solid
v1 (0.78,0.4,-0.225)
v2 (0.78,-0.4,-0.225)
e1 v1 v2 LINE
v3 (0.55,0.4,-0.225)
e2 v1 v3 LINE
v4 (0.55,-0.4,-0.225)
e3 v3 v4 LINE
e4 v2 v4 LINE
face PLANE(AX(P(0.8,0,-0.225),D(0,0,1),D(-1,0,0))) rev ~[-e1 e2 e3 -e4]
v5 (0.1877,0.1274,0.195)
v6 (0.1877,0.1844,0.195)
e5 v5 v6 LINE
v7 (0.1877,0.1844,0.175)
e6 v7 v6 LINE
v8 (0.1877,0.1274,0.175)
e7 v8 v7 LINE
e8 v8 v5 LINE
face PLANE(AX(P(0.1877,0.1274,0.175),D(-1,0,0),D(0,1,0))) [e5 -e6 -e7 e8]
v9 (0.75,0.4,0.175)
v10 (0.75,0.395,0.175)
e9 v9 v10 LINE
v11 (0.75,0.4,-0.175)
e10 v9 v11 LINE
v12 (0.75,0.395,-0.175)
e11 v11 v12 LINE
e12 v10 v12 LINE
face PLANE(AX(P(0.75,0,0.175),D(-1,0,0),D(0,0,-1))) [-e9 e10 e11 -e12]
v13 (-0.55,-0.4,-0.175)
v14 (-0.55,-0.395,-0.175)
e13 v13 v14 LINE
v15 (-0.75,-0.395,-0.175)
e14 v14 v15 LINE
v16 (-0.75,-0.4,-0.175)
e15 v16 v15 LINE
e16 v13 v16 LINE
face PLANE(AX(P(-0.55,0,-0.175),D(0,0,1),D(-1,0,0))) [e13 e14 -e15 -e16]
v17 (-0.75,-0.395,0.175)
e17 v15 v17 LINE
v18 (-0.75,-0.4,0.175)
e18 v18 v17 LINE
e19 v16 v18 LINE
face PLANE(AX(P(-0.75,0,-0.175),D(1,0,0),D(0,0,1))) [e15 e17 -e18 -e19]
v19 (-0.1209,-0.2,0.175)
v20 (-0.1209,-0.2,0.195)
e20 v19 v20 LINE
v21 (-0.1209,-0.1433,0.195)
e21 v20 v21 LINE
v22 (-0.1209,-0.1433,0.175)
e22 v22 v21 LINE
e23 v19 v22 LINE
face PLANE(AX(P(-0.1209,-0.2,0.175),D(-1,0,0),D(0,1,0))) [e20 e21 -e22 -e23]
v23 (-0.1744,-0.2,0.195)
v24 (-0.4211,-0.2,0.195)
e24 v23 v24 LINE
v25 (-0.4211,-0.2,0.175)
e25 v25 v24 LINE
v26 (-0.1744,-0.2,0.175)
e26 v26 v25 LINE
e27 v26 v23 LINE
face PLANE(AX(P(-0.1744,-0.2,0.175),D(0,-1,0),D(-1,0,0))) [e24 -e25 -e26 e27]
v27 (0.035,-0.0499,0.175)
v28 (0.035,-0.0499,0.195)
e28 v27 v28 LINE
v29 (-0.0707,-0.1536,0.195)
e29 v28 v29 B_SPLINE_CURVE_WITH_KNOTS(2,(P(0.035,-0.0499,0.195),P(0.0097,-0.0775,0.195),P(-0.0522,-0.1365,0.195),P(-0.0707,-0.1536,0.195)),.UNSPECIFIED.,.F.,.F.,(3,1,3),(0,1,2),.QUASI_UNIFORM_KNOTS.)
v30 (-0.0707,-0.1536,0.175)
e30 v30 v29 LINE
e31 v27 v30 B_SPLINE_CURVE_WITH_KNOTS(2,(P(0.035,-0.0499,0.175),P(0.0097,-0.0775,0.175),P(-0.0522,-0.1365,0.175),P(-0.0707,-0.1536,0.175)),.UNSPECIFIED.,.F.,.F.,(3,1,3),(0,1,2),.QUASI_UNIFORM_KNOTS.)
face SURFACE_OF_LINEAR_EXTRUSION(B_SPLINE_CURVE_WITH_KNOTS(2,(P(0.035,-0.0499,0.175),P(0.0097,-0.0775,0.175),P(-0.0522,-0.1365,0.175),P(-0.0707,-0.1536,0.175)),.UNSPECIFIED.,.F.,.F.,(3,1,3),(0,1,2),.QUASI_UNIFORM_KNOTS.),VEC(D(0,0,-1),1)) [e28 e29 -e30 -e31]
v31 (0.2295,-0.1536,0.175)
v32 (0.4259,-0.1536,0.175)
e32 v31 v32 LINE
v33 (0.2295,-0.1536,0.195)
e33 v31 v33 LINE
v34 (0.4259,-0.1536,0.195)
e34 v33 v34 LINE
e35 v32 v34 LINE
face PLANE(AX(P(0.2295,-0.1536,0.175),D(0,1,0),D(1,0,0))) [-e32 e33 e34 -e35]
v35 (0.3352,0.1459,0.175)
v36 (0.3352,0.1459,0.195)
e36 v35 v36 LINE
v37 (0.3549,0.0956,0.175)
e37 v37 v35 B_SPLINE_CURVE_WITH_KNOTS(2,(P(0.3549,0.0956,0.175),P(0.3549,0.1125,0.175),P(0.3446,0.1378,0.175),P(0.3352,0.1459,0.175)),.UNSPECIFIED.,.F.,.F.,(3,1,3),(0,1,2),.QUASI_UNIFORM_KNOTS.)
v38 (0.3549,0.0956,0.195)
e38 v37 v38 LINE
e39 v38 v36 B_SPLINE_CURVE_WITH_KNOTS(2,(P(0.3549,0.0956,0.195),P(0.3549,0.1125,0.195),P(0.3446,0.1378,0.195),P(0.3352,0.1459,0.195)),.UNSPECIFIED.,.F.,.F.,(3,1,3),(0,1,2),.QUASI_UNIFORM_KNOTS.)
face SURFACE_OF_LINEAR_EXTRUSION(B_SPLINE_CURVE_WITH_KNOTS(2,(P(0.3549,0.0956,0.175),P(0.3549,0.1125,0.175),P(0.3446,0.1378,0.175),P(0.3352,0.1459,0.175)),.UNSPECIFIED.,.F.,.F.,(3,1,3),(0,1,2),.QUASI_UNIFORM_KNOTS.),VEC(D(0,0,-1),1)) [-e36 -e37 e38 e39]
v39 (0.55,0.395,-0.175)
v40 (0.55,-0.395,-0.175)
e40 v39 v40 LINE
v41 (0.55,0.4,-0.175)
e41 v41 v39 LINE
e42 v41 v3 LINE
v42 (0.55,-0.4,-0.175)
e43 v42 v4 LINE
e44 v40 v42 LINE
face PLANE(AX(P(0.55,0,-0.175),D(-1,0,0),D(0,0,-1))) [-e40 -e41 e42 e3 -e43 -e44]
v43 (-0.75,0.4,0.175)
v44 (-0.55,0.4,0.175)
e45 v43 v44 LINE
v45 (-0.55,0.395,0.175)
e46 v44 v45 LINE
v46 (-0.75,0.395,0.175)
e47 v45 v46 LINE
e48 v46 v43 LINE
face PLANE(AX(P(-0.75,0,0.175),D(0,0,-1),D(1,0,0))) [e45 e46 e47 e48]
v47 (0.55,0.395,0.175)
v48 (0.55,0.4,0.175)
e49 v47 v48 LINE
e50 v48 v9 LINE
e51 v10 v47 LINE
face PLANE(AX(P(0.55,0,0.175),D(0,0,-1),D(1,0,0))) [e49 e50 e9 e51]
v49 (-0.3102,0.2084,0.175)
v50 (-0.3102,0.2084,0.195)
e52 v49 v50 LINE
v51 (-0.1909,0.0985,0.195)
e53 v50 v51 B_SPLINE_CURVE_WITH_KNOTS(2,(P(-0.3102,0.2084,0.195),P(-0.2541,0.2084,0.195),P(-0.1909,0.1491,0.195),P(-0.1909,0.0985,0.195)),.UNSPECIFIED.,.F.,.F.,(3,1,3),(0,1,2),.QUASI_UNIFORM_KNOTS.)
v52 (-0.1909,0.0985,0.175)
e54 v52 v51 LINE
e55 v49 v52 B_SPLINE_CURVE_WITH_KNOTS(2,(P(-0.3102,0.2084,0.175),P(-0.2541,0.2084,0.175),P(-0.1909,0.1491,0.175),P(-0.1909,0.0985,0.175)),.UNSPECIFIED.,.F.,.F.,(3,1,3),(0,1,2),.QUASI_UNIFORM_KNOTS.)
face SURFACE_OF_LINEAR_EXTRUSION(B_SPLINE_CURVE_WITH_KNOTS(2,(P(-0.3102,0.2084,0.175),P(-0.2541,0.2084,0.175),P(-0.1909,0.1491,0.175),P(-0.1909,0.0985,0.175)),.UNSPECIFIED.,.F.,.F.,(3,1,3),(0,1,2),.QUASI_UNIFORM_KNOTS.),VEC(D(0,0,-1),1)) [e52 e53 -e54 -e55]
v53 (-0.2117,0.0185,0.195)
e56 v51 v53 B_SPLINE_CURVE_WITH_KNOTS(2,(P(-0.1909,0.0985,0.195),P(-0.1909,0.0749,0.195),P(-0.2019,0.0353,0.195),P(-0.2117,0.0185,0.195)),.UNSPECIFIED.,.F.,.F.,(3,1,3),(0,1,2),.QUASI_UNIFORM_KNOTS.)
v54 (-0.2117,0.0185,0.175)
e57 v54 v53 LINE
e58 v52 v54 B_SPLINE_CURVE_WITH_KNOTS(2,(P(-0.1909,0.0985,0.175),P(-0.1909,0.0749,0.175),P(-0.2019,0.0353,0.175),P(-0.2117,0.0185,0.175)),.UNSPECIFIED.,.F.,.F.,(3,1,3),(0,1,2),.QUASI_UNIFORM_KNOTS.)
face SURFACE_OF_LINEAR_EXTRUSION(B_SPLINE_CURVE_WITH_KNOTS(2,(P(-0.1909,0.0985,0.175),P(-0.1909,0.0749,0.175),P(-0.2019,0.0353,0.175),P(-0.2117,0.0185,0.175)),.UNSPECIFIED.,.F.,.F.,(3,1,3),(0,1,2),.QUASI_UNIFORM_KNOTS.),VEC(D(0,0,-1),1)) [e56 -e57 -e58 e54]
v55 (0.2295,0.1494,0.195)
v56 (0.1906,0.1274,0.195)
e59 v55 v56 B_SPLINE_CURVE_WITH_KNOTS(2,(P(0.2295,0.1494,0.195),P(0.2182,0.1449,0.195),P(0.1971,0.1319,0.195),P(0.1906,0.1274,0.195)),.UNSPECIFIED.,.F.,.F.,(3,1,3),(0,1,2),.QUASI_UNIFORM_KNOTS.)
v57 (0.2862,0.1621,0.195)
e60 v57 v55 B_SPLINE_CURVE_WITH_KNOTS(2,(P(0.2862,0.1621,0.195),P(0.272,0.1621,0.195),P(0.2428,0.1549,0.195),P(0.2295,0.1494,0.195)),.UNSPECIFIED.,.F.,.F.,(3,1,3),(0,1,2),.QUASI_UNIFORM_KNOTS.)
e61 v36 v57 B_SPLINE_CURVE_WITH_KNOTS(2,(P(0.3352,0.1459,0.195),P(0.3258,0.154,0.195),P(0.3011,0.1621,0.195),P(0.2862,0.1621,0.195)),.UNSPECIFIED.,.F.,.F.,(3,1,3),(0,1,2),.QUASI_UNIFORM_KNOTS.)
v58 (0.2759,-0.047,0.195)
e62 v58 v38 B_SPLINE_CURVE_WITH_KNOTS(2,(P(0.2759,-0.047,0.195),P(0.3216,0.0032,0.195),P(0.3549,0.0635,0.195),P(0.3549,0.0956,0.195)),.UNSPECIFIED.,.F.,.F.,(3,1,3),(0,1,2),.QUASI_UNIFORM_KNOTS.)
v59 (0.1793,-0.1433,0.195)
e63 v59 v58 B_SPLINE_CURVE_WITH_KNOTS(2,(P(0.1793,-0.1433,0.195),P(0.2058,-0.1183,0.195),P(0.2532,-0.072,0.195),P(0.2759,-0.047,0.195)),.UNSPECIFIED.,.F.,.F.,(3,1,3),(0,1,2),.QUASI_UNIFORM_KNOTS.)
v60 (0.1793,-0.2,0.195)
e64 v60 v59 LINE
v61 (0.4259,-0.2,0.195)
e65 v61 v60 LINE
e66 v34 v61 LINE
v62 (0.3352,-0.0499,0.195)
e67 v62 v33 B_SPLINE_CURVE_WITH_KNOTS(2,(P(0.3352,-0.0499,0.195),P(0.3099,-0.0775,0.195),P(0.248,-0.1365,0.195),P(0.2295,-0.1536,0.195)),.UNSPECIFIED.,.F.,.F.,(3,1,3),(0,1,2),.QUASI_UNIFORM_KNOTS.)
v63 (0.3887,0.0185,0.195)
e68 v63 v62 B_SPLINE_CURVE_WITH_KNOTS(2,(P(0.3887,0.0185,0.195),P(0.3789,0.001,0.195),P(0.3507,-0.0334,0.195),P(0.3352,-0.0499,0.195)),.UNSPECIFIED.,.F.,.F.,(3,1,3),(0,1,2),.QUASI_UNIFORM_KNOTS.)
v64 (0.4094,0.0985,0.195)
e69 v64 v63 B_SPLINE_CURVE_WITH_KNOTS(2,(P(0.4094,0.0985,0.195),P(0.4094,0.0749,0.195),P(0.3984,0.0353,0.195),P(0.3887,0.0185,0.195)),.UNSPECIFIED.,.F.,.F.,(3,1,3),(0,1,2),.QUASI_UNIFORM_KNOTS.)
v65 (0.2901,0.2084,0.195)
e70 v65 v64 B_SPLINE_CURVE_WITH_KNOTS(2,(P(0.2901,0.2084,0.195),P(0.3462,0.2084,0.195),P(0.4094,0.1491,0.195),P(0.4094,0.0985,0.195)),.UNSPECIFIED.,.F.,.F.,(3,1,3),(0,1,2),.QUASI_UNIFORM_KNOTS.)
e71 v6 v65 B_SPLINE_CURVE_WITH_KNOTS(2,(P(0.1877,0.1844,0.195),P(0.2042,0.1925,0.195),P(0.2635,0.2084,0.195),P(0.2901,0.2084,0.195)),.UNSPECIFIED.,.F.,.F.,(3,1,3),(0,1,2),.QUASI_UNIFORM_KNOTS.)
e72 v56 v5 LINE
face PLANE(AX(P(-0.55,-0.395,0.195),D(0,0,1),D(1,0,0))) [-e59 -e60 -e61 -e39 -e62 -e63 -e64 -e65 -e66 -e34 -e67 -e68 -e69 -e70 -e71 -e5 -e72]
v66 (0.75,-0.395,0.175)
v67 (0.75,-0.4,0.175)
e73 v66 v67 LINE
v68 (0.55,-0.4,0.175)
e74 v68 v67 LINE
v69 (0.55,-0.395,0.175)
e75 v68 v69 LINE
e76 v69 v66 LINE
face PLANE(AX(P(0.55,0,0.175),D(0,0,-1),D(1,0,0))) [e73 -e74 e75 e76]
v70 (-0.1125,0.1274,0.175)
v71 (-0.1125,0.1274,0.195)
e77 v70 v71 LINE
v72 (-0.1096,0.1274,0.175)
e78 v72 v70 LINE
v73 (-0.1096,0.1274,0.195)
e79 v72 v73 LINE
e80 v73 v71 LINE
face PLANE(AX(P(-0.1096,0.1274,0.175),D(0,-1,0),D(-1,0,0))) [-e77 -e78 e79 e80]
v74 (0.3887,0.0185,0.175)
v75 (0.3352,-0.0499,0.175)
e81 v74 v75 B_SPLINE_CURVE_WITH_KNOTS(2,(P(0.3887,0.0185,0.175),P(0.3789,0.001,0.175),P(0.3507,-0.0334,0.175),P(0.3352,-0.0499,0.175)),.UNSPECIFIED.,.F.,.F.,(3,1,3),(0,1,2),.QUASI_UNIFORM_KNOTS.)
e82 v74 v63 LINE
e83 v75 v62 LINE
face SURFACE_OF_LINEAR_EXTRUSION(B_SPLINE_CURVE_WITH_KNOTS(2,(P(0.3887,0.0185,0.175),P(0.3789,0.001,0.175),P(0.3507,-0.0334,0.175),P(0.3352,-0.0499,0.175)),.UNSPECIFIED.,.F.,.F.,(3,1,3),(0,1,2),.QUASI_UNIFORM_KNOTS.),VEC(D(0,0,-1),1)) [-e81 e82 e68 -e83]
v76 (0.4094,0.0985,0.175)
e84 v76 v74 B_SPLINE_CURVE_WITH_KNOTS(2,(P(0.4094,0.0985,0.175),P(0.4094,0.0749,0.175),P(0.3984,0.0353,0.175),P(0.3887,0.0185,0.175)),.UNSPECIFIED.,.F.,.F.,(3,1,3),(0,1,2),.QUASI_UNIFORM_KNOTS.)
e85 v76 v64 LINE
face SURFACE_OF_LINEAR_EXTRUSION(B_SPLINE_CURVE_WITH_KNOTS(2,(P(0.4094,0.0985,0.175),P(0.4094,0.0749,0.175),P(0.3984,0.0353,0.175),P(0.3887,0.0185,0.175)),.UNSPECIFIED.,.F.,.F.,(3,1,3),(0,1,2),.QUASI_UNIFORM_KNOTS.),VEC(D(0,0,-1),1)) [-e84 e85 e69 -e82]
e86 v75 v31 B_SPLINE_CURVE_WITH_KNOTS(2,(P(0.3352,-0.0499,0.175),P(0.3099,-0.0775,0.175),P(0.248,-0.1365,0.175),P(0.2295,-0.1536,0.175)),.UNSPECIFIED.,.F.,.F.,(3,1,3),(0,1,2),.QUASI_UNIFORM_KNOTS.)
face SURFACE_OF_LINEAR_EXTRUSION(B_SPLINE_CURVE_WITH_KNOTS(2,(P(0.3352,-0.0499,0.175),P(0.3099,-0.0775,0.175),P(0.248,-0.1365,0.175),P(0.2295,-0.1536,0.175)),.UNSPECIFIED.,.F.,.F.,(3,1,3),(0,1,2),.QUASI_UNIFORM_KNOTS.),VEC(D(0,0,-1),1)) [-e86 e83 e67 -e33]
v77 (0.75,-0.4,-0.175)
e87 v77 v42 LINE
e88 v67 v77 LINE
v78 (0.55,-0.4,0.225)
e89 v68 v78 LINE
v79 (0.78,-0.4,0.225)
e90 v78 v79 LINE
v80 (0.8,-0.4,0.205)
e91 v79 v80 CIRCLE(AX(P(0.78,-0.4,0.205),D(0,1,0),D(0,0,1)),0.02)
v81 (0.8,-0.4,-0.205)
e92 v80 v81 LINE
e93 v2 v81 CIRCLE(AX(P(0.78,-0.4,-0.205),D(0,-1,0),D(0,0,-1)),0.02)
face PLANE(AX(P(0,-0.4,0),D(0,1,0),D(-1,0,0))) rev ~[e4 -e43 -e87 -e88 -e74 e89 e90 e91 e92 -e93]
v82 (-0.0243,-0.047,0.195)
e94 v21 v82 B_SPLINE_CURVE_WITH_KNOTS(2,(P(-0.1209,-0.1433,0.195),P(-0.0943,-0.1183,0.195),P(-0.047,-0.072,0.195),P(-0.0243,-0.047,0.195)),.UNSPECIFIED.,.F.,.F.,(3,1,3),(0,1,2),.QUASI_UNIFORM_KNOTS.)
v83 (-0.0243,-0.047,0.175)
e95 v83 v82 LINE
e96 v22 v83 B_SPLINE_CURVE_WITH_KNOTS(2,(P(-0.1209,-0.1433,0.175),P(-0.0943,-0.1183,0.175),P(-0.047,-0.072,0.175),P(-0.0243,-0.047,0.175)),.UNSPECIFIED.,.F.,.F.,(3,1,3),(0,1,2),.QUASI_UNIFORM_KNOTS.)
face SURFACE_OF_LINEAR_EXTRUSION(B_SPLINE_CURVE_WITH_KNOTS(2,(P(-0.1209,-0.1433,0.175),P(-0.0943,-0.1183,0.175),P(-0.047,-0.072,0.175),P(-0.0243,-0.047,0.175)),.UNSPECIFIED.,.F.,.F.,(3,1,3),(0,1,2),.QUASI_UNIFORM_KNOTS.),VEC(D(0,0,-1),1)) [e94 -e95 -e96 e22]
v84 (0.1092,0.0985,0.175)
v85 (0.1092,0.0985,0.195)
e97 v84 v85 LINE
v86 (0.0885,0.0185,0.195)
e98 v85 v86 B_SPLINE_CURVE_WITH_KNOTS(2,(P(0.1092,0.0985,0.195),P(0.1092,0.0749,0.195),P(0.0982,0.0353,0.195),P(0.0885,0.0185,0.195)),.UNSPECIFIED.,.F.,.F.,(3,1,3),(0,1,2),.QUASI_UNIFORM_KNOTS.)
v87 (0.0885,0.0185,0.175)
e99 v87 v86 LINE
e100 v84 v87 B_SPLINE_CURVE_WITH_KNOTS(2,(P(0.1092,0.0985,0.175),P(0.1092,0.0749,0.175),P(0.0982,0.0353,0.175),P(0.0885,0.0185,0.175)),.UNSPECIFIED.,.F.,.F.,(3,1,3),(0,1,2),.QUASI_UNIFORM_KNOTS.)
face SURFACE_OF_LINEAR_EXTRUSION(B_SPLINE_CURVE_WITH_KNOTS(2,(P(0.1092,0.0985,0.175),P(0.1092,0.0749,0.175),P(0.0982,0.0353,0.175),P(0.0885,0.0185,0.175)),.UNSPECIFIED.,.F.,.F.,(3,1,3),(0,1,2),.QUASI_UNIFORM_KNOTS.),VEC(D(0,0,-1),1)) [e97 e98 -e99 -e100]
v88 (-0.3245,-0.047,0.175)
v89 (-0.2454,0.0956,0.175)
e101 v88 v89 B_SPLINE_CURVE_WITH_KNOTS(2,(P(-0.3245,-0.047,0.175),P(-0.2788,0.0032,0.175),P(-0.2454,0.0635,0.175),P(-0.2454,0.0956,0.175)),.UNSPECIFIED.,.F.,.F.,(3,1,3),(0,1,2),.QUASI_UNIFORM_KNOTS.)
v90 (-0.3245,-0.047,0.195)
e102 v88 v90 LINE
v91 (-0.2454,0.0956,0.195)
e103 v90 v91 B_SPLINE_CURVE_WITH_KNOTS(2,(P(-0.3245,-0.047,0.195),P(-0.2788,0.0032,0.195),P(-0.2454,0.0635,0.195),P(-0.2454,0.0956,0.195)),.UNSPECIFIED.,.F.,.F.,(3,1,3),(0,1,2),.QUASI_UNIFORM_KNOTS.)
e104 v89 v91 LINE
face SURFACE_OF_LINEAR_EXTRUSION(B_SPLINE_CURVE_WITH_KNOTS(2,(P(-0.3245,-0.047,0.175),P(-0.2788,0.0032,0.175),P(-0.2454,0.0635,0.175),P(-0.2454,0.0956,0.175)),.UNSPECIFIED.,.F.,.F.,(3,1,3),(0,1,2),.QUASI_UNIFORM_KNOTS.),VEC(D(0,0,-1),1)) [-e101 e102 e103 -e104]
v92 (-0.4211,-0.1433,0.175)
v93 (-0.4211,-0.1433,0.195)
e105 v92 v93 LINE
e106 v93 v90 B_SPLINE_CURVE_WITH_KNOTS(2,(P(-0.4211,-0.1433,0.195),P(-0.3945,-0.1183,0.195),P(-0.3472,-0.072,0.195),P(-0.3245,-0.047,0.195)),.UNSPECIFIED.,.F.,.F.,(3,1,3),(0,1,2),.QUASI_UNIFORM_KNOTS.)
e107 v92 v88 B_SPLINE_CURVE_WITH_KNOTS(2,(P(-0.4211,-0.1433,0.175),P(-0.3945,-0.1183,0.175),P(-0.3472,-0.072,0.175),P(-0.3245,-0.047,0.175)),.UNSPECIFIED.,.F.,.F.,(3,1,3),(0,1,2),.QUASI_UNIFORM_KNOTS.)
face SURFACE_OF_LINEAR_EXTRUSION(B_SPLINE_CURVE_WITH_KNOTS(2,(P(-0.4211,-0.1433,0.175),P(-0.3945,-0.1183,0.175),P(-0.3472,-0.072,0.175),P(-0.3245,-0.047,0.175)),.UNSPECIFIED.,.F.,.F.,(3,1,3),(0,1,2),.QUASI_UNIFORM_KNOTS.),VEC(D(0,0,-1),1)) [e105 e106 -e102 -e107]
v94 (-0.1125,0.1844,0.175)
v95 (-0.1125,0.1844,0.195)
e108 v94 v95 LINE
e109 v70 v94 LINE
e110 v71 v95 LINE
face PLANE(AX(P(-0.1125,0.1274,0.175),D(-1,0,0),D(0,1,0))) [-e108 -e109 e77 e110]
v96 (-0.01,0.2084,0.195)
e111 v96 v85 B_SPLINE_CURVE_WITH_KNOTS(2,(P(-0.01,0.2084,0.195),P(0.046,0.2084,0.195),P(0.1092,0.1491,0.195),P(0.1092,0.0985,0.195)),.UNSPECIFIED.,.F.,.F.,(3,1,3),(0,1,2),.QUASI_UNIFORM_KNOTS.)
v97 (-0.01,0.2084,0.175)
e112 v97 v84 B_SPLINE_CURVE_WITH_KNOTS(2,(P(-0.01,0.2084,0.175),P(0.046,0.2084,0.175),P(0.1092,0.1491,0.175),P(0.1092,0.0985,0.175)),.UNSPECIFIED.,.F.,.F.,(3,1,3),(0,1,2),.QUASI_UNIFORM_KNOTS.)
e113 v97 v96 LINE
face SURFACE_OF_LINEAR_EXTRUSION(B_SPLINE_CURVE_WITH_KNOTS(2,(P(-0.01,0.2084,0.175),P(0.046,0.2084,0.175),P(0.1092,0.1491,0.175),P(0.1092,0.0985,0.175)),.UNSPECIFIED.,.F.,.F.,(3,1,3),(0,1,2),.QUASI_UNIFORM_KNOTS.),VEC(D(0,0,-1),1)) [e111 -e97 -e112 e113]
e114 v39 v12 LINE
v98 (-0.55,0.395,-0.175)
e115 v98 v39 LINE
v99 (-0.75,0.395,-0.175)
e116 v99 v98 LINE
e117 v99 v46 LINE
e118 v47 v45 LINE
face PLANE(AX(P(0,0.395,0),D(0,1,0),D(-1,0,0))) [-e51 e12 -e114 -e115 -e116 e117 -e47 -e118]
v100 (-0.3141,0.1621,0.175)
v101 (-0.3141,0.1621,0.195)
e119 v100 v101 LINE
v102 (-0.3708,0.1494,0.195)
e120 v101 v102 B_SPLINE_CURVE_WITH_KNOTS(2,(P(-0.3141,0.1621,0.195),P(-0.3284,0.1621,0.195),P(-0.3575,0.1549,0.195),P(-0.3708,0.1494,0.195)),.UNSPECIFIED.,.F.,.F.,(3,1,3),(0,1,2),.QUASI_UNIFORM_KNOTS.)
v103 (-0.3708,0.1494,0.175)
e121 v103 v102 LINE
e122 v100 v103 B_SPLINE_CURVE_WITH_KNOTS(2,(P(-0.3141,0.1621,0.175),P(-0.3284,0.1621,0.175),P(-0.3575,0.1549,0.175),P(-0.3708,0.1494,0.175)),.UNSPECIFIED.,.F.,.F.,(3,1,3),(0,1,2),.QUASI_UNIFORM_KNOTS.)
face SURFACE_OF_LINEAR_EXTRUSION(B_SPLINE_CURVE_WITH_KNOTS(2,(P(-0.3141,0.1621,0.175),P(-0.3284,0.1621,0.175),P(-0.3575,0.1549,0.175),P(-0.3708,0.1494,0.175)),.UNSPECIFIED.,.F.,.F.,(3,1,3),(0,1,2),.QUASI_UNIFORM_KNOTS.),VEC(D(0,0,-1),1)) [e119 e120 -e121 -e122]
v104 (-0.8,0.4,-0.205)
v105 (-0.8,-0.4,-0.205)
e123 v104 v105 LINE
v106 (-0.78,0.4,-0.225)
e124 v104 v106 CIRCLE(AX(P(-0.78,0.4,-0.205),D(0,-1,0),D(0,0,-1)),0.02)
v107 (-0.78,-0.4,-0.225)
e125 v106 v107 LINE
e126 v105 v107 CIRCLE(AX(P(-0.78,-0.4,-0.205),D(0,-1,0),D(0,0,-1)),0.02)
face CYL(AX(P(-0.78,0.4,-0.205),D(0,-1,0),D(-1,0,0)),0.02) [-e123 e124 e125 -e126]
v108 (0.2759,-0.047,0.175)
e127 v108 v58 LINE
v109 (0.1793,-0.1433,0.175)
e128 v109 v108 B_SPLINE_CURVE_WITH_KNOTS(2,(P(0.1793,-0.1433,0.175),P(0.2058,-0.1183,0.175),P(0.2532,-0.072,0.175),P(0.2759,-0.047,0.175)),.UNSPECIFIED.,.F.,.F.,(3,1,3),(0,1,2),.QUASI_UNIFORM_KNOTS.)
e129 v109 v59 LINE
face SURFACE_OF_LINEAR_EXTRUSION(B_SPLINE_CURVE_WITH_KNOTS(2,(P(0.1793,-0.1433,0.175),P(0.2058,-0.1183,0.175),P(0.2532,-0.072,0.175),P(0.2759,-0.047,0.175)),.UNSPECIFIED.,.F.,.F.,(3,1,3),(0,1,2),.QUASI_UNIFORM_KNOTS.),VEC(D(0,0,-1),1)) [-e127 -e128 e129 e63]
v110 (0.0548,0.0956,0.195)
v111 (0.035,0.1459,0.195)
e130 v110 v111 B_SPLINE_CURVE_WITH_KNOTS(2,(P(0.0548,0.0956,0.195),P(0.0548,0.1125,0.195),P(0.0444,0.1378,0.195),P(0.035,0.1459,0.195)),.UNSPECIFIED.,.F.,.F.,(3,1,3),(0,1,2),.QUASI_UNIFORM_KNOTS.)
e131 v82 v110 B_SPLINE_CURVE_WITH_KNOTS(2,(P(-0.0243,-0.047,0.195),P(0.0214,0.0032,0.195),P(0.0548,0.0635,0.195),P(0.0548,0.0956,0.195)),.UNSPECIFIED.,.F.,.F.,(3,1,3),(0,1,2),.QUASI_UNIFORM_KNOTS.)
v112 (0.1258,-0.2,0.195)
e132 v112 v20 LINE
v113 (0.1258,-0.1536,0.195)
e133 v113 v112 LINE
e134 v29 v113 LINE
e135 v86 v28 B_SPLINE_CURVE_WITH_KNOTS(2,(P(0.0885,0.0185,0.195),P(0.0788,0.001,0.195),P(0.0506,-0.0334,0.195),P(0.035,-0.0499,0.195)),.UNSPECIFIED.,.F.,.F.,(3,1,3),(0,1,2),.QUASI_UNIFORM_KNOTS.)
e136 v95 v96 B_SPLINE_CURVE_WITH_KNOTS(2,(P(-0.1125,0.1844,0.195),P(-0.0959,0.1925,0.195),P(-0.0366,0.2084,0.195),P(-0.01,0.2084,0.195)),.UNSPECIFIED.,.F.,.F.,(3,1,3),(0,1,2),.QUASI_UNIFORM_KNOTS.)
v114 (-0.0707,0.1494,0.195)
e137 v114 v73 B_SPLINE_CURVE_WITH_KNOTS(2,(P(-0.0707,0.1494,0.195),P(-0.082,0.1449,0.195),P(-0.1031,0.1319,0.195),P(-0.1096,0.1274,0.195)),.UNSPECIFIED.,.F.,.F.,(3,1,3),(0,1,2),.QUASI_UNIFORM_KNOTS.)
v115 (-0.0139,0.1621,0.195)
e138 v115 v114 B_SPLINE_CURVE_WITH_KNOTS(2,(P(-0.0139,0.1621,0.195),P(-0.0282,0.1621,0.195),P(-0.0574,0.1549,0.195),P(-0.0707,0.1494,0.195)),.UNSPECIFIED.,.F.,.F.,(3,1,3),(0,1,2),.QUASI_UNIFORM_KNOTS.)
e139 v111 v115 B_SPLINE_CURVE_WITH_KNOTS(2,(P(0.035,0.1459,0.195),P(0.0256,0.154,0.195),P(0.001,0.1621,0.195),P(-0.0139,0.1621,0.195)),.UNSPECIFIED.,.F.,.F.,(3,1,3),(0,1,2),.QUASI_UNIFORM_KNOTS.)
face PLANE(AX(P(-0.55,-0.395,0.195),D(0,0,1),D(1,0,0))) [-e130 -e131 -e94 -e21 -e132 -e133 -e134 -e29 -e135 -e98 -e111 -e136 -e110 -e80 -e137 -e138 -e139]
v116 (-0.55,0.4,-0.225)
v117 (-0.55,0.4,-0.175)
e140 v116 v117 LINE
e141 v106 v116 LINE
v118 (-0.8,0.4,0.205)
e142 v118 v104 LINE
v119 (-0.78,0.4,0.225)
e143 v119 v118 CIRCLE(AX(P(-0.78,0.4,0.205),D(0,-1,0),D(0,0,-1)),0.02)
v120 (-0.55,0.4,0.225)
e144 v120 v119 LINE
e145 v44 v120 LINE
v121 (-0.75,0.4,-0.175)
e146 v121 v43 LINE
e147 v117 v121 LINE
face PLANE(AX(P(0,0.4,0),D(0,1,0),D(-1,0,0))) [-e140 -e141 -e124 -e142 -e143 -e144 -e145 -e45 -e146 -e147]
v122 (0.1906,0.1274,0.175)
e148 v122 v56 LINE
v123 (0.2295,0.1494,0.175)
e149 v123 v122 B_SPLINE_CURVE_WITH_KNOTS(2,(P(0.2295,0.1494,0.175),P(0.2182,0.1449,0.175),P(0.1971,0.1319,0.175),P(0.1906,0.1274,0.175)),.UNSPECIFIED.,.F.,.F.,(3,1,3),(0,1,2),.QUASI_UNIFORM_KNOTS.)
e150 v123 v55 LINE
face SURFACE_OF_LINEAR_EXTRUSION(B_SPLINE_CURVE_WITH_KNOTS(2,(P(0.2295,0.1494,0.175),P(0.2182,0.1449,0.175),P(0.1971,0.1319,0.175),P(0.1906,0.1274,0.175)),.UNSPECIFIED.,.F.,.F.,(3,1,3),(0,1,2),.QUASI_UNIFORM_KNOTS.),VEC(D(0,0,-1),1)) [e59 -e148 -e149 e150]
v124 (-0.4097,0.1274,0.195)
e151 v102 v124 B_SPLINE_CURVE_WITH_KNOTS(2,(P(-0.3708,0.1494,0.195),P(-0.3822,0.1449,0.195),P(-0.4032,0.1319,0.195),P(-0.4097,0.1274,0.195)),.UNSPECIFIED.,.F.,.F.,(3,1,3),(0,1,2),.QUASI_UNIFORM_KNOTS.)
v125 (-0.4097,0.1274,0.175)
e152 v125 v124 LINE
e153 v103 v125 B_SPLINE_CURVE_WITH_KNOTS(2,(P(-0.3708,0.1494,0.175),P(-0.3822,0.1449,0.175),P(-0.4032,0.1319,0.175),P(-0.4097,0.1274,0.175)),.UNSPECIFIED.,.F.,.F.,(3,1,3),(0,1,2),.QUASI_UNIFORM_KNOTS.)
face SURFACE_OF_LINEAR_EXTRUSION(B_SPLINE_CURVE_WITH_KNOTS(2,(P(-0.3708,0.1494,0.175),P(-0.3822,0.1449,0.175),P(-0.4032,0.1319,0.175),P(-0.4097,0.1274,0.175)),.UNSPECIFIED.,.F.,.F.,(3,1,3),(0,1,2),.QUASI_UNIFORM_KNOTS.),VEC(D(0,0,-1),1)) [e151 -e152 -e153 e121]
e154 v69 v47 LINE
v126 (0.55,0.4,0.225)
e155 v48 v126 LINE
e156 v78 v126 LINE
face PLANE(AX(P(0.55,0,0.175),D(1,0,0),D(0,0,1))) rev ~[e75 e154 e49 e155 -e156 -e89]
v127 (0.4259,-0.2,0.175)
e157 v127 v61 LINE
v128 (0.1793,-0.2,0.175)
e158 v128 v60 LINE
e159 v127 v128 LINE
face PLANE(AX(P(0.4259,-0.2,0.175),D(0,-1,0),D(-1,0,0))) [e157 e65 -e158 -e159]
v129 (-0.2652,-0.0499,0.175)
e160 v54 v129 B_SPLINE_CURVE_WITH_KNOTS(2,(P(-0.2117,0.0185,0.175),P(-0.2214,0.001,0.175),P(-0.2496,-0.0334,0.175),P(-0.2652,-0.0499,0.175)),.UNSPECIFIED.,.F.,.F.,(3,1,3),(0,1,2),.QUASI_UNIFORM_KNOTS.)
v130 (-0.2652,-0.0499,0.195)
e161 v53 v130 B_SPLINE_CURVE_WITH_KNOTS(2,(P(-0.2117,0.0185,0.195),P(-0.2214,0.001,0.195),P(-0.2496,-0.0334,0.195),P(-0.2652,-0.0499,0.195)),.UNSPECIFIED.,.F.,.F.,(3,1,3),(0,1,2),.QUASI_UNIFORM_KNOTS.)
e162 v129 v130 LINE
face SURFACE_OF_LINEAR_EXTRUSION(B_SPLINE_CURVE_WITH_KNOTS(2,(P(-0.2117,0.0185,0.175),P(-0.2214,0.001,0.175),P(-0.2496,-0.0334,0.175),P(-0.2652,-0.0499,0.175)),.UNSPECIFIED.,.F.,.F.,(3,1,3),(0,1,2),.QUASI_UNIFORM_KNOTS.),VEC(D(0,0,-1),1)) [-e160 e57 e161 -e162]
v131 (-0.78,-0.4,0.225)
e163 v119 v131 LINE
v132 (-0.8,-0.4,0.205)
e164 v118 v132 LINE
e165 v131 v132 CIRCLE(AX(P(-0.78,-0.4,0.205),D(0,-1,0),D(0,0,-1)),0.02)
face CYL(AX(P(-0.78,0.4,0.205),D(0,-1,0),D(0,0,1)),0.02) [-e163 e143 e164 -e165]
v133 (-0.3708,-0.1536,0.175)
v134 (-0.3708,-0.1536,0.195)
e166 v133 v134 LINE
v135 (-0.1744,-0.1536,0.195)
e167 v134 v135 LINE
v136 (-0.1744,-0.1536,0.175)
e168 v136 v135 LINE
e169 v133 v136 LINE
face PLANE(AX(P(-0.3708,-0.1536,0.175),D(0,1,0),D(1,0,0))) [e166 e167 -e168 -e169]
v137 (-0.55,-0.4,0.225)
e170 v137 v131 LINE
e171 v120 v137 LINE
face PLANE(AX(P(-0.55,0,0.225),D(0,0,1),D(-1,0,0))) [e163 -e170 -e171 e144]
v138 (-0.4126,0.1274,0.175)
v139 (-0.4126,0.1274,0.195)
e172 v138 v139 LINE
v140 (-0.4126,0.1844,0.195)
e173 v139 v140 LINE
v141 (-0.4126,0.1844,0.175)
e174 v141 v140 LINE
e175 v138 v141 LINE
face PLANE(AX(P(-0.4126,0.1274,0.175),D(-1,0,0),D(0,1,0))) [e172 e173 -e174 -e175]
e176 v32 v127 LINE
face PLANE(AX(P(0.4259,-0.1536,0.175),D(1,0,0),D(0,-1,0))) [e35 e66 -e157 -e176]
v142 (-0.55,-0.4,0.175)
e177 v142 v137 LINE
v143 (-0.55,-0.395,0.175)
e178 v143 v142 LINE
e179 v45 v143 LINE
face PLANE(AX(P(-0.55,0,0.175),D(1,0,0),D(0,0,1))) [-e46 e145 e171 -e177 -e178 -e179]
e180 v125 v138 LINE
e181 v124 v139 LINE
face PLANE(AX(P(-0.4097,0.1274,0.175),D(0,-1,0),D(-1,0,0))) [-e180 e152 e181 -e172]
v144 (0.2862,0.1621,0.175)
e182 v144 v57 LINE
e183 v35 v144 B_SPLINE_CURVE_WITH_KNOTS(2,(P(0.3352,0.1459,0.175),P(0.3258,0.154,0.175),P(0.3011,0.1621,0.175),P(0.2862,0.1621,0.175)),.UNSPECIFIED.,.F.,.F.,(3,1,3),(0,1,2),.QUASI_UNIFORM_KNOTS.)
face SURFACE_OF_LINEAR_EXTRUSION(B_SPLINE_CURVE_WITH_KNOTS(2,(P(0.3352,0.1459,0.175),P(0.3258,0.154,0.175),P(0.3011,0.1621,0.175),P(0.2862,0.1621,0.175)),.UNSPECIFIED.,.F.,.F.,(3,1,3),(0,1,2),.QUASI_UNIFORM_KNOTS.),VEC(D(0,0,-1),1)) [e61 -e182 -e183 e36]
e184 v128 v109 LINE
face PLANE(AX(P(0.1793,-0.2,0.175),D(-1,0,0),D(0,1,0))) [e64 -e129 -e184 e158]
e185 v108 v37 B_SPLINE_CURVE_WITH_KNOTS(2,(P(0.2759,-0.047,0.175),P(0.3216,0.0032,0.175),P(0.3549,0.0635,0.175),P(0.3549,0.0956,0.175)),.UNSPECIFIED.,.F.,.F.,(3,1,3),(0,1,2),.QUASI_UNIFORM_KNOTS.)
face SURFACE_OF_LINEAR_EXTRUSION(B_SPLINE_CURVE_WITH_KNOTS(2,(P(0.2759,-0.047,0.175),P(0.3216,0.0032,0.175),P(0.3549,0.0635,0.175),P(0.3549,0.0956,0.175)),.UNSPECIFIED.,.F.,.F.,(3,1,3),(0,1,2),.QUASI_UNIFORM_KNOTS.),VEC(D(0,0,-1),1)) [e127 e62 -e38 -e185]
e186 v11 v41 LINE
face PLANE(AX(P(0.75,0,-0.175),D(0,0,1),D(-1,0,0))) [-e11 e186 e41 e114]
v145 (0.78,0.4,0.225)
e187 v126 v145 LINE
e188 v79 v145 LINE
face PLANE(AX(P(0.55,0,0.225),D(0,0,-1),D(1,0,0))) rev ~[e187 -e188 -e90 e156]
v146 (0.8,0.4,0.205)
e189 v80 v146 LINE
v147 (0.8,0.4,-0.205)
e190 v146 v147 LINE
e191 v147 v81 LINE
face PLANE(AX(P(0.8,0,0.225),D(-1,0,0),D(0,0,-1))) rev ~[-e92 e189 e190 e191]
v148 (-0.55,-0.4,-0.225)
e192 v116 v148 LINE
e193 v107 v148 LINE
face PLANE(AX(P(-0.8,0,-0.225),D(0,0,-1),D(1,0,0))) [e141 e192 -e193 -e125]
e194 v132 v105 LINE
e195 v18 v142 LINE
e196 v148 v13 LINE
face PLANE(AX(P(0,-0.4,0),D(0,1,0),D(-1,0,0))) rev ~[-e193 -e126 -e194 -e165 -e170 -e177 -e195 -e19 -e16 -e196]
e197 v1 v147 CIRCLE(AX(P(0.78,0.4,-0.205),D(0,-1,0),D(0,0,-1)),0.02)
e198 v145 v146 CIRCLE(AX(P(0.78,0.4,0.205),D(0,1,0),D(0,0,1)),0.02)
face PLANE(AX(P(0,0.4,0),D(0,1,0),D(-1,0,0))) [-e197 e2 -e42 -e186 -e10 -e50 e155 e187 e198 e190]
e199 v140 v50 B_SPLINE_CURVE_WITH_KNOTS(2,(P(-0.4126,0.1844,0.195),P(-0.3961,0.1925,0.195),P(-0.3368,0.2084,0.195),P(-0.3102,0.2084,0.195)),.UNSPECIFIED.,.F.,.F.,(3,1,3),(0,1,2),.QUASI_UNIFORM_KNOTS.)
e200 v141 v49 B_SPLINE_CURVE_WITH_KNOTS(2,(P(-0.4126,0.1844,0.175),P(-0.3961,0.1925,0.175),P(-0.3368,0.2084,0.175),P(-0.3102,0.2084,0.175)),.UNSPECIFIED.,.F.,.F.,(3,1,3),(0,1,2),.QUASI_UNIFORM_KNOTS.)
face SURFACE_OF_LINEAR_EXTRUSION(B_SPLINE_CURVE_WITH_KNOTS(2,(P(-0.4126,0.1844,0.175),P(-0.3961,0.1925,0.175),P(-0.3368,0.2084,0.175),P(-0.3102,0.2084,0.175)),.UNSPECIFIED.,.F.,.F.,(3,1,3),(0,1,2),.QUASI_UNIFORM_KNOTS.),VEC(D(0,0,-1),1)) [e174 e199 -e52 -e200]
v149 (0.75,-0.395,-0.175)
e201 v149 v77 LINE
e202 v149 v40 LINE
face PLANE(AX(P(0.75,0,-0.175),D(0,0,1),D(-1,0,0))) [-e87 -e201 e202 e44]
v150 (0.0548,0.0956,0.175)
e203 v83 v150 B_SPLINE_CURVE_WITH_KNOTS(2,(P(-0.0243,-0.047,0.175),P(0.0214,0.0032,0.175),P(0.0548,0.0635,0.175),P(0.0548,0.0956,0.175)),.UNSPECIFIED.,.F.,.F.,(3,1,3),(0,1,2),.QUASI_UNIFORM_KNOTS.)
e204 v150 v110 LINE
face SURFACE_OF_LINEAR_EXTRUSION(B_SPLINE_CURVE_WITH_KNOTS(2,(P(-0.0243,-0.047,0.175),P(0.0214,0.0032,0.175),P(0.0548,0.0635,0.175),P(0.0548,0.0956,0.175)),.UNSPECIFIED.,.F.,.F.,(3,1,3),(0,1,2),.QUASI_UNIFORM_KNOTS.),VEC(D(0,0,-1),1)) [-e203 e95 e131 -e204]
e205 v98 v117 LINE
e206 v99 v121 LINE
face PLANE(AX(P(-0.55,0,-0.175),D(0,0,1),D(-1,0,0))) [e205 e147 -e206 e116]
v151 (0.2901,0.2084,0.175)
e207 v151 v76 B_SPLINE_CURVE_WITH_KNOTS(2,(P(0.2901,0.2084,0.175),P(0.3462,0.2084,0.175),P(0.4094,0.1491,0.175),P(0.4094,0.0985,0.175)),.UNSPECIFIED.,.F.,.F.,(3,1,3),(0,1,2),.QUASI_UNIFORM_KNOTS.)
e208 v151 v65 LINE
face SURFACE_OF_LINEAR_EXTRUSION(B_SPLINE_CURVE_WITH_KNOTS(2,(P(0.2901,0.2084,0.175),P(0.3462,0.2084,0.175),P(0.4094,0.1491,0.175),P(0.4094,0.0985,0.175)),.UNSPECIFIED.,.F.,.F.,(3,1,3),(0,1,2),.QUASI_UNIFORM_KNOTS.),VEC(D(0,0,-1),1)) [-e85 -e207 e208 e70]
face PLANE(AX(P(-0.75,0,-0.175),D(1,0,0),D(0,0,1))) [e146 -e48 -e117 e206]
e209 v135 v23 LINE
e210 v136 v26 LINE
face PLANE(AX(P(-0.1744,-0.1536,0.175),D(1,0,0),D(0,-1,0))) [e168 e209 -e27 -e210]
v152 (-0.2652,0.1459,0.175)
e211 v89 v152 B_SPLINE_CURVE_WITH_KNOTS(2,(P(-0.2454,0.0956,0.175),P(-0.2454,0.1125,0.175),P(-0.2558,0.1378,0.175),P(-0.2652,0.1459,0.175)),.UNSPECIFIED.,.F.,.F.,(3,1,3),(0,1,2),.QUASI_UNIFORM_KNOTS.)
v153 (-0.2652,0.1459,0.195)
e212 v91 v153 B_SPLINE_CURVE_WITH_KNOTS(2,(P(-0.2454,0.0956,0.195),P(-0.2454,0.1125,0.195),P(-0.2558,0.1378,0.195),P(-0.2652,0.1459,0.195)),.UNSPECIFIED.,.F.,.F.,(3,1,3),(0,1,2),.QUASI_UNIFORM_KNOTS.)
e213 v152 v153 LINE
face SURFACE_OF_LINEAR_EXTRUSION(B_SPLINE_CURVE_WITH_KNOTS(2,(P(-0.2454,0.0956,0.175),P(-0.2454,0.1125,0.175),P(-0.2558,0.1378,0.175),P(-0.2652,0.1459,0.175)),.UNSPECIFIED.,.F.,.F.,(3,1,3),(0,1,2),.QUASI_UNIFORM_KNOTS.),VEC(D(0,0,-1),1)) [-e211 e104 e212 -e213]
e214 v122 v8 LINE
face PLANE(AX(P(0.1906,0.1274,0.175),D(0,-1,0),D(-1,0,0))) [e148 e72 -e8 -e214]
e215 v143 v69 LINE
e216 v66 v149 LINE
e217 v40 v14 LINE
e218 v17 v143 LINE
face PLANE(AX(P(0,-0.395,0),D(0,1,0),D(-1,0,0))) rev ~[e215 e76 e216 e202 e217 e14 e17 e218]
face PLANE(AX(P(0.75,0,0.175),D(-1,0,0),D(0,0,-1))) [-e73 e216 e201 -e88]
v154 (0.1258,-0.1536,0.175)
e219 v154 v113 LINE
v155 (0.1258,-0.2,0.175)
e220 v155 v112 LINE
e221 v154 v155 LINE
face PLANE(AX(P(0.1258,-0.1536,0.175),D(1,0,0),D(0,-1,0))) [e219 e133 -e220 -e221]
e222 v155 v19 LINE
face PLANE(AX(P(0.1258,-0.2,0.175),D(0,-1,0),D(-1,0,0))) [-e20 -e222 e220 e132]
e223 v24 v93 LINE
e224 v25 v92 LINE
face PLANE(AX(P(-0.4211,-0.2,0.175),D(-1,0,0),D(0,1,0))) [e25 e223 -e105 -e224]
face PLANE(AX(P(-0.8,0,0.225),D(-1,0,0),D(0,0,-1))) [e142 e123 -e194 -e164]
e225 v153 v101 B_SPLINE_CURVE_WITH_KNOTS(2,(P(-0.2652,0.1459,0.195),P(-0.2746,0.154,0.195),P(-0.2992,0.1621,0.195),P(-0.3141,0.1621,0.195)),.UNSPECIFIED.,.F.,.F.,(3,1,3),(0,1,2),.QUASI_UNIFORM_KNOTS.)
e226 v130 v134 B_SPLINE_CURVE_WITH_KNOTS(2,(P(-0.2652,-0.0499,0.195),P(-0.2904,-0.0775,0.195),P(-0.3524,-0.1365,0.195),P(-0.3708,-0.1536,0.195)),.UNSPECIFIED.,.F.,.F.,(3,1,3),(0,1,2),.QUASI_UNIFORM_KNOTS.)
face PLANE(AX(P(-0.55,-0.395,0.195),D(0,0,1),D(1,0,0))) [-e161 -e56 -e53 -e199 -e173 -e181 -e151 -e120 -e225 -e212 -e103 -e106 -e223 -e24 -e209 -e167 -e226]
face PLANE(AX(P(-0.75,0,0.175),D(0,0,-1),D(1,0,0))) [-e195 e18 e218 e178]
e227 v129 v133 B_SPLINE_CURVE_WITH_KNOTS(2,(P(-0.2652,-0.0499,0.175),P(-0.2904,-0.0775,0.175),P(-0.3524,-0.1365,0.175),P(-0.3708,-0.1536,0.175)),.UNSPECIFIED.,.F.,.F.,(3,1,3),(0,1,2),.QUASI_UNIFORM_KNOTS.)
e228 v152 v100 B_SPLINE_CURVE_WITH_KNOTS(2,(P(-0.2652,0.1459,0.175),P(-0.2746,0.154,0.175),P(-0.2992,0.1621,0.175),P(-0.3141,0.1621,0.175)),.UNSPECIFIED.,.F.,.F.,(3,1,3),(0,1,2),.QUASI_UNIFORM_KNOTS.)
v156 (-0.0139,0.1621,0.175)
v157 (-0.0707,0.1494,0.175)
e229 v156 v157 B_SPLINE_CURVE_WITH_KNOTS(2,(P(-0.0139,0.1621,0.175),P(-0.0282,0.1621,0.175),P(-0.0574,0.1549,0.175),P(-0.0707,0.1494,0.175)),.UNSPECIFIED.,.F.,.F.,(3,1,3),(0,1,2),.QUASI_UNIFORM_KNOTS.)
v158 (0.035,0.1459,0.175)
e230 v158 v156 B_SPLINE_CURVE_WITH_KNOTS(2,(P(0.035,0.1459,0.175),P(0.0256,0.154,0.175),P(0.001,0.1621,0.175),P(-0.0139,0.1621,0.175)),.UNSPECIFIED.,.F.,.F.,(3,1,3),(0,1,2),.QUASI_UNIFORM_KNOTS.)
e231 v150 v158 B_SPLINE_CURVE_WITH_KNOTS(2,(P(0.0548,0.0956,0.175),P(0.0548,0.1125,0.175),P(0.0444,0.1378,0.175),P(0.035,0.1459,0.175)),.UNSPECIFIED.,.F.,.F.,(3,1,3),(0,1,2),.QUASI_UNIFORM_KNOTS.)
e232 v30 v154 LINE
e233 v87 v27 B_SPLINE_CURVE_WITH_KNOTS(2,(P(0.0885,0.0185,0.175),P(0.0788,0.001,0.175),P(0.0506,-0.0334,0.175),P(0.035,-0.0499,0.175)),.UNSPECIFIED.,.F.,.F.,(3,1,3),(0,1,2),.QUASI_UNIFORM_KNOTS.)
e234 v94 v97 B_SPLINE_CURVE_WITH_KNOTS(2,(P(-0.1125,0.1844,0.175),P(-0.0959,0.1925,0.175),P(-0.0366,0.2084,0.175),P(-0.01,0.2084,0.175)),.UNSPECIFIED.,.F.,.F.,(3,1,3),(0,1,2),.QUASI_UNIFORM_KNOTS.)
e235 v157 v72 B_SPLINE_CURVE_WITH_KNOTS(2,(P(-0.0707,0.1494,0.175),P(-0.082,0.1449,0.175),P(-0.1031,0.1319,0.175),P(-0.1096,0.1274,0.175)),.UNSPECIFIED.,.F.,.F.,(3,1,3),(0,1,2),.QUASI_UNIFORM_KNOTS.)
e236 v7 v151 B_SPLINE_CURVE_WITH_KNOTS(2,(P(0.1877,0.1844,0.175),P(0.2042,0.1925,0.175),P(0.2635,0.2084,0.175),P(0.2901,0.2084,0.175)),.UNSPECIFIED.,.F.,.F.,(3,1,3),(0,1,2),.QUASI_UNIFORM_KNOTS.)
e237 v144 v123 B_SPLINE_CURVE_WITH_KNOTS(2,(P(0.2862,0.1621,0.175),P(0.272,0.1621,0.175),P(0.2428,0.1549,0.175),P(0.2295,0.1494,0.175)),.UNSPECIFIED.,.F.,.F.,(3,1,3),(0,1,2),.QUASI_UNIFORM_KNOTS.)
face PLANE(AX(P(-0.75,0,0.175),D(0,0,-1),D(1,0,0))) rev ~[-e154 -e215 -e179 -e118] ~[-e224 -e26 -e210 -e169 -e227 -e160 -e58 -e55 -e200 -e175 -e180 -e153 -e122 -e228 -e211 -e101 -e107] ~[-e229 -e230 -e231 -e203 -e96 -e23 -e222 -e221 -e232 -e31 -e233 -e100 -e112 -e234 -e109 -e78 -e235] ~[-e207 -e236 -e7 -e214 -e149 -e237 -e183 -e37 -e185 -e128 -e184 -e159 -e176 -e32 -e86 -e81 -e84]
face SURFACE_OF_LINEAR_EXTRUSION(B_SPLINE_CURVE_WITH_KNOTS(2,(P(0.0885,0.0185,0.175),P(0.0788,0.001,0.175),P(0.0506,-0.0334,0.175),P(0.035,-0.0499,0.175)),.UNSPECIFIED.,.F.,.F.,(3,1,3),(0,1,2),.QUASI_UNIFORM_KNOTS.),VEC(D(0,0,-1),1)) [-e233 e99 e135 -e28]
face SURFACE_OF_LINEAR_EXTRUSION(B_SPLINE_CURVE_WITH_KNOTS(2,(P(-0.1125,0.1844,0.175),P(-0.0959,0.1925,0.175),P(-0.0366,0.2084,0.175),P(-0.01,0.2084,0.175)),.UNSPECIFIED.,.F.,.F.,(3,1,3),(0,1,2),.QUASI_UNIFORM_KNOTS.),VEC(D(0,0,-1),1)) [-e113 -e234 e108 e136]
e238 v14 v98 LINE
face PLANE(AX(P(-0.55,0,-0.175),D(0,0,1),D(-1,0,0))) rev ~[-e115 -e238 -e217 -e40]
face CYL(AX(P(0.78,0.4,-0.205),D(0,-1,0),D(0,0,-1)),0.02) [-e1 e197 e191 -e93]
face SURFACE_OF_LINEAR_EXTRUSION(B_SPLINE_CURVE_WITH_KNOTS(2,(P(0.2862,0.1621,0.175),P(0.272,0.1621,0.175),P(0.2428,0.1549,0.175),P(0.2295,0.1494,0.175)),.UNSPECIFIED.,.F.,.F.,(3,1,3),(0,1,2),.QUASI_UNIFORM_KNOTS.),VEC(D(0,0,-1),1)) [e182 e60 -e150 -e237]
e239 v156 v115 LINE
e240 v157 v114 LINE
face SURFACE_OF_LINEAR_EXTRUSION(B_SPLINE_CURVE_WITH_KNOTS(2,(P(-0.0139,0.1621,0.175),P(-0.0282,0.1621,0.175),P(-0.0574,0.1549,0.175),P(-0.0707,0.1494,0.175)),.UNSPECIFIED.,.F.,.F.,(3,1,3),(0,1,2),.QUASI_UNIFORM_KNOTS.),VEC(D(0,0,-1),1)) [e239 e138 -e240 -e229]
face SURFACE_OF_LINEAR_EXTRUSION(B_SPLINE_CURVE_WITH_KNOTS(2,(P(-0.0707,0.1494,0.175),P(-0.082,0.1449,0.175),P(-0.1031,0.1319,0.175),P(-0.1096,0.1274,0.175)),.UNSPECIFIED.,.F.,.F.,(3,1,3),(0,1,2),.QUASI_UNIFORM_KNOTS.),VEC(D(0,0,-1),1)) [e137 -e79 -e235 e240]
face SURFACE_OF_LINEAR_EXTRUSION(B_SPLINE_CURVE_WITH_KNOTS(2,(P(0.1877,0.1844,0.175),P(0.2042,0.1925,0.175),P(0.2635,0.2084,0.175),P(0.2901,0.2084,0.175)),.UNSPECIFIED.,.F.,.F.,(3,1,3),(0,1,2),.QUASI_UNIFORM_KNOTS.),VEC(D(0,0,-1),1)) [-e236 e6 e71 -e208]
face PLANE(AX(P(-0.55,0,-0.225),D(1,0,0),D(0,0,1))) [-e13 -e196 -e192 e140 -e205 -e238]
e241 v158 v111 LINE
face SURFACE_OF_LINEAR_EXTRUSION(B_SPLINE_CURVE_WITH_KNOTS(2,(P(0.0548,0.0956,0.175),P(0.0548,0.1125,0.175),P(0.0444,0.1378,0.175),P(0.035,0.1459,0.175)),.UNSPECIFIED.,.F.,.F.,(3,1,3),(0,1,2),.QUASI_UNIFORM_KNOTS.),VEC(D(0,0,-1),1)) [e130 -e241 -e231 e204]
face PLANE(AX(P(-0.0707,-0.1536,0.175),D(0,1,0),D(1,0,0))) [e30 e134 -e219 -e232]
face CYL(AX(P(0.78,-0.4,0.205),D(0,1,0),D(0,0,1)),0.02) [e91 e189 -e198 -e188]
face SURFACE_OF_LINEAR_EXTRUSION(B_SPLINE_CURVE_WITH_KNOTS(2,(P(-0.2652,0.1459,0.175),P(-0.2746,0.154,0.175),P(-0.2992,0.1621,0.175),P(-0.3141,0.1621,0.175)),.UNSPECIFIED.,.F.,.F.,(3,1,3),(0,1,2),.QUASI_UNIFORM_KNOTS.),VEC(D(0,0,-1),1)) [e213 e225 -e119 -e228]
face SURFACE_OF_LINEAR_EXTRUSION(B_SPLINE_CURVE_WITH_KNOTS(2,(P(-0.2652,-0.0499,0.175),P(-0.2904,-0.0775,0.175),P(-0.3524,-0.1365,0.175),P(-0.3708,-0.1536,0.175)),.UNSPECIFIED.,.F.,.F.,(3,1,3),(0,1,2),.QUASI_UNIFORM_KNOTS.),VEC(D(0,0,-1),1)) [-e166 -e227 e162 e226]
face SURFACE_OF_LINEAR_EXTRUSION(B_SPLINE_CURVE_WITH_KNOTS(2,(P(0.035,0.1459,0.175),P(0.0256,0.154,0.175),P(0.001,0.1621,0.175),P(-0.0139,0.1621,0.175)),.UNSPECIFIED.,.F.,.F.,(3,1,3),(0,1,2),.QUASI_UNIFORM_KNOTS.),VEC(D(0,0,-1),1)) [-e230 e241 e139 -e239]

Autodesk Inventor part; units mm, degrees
ref_plane "YZ Plane" through (0, 0, 0) normal (1, 0, 0) x (0, 1, 0)
ref_plane "XZ Plane" through (0, 0, 0) normal (0, 1, 0) x (-1, 0, 0)
ref_plane "XY Plane" through (0, 0, 0) normal (0, 0, 1) x (1, 0, 0)
sketch "Sketch1" plane through (0, 0, 0) normal (0, 1, 0) x (-1, 0, 0)
  line L0 (0.75, 0.175) -> (-0.75, 0.175)
  line L1 (-0.75, 0.175) -> (-0.75, -0.175)
  line L2 (-0.75, -0.175) -> (0.75, -0.175)
  line L3 (0.75, -0.175) -> (0.75, 0.175)
  line L4 (0.55, 0.175) -> (0.55, 0.225)
  line L5 (0.55, 0.225) -> (0.8, 0.225)
  line L6 (0.8, 0.225) -> (0.8, -0.225)
  line L7 (0.8, -0.225) -> (0.55, -0.225)
  line L8 (0.55, -0.225) -> (0.55, -0.175)
  line L9 (-0.55, 0.175) -> (-0.55, 0.225)
  line L10 (-0.55, 0.225) -> (-0.8, 0.225)
  line L11 (-0.8, 0.225) -> (-0.8, -0.225)
  line L12 (-0.8, -0.225) -> (-0.55, -0.225)
  line L13 (-0.55, -0.175) -> (-0.55, -0.225)
  line L14 (0.55, 0.175) -> (-0.55, 0.175)
  point P0 (0, 0)
  point P1 (0, 0.175)
  point P2 (0.75, 0)
  dimension "d0" = 1.6
  dimension "d1" = 0.05
  dimension "d2" = 0.05
  dimension "d3" = 0.45
  dimension "d4" = 0.25
extrude "Extrusion1" add sketch "Sketch1" along normal mid plane 0.8 contours L0 L4 L5 L6 L7 L8 L2 L3 | L0 L1 L2 L13 L12 L11 L10 L9
extrude "Extrusion2" add sketch "Sketch1" along normal mid plane 0.79 contours L3 L2 L1 L0
sketch "Sketch2" plane through (-0.55, -0.395, 0.175) normal (0, 0, 1) x (1, 0, 0)
  line L0 (0, 0) -> (0, 0.79) projected
  line L1 (1.1, 0) -> (0, 0) projected
  line L2 (1.1, 0) -> (1.1, 0.79) projected
  line L3 (0, 0.79) -> (1.1, 0.79) projected
  line L4 (0, 0.395) -> (1.1, 0.395) construction
  line L5 (0.3756, 0.195) -> (0.1289, 0.195)
  line L6 (0.1289, 0.195) -> (0.1289, 0.2517)
  spline S0 degree 2 poles (0.1289, 0.2517) (0.1555, 0.2767) (0.2028, 0.323) (0.2255, 0.348) knots 0 0 0 1 2 2 2
  spline S1 degree 2 poles (0.2255, 0.348) (0.2712, 0.3982) (0.3046, 0.4585) (0.3046, 0.4906) knots 0 0 0 1 2 2 2
  spline S2 degree 2 poles (0.3046, 0.4906) (0.3046, 0.5075) (0.2942, 0.5328) (0.2848, 0.5409) knots 0 0 0 1 2 2 2
  spline S3 degree 2 poles (0.2848, 0.5409) (0.2754, 0.549) (0.2508, 0.5571) (0.2359, 0.5571) knots 0 0 0 1 2 2 2
  spline S4 degree 2 poles (0.2359, 0.5571) (0.2216, 0.5571) (0.1925, 0.5499) (0.1792, 0.5444) knots 0 0 0 1 2 2 2
  spline S5 degree 2 poles (0.1792, 0.5444) (0.1678, 0.5399) (0.1468, 0.5269) (0.1403, 0.5224) knots 0 0 0 1 2 2 2
  line L7 (0.1403, 0.5224) -> (0.1374, 0.5224)
  line L8 (0.1374, 0.5224) -> (0.1374, 0.5794)
  spline S6 degree 2 poles (0.1374, 0.5794) (0.1539, 0.5875) (0.2132, 0.6034) (0.2398, 0.6034) knots 0 0 0 1 2 2 2
  spline S7 degree 2 poles (0.2398, 0.6034) (0.2959, 0.6034) (0.3591, 0.5441) (0.3591, 0.4935) knots 0 0 0 1 2 2 2
  spline S8 degree 2 poles (0.3591, 0.4935) (0.3591, 0.4699) (0.3481, 0.4303) (0.3383, 0.4135) knots 0 0 0 1 2 2 2
  spline S9 degree 2 poles (0.3383, 0.4135) (0.3286, 0.396) (0.3004, 0.3616) (0.2848, 0.3451) knots 0 0 0 1 2 2 2
  spline S10 degree 2 poles (0.2848, 0.3451) (0.2596, 0.3175) (0.1976, 0.2585) (0.1792, 0.2414) knots 0 0 0 1 2 2 2
  line L9 (0.1792, 0.2414) -> (0.3756, 0.2414)
  line L10 (0.3756, 0.2414) -> (0.3756, 0.195)
  line L11 (0.6758, 0.195) -> (0.4291, 0.195)
  line L12 (0.4291, 0.195) -> (0.4291, 0.2517)
  spline S11 degree 2 poles (0.4291, 0.2517) (0.4557, 0.2767) (0.503, 0.323) (0.5257, 0.348) knots 0 0 0 1 2 2 2
  spline S12 degree 2 poles (0.5257, 0.348) (0.5714, 0.3982) (0.6048, 0.4585) (0.6048, 0.4906) knots 0 0 0 1 2 2 2
  spline S13 degree 2 poles (0.6048, 0.4906) (0.6048, 0.5075) (0.5944, 0.5328) (0.585, 0.5409) knots 0 0 0 1 2 2 2
  spline S14 degree 2 poles (0.585, 0.5409) (0.5756, 0.549) (0.551, 0.5571) (0.5361, 0.5571) knots 0 0 0 1 2 2 2
  spline S15 degree 2 poles (0.5361, 0.5571) (0.5218, 0.5571) (0.4926, 0.5499) (0.4793, 0.5444) knots 0 0 0 1 2 2 2
  spline S16 degree 2 poles (0.4793, 0.5444) (0.468, 0.5399) (0.4469, 0.5269) (0.4404, 0.5224) knots 0 0 0 1 2 2 2
  line L13 (0.4404, 0.5224) -> (0.4375, 0.5224)
  line L14 (0.4375, 0.5224) -> (0.4375, 0.5794)
  spline S17 degree 2 poles (0.4375, 0.5794) (0.4541, 0.5875) (0.5134, 0.6034) (0.54, 0.6034) knots 0 0 0 1 2 2 2
  spline S18 degree 2 poles (0.54, 0.6034) (0.596, 0.6034) (0.6592, 0.5441) (0.6592, 0.4935) knots 0 0 0 1 2 2 2
  spline S19 degree 2 poles (0.6592, 0.4935) (0.6592, 0.4699) (0.6482, 0.4303) (0.6385, 0.4135) knots 0 0 0 1 2 2 2
  spline S20 degree 2 poles (0.6385, 0.4135) (0.6288, 0.396) (0.6006, 0.3616) (0.585, 0.3451) knots 0 0 0 1 2 2 2
  spline S21 degree 2 poles (0.585, 0.3451) (0.5597, 0.3175) (0.4978, 0.2585) (0.4793, 0.2414) knots 0 0 0 1 2 2 2
  line L15 (0.4793, 0.2414) -> (0.6758, 0.2414)
  line L16 (0.6758, 0.2414) -> (0.6758, 0.195)
  line L17 (0.9759, 0.195) -> (0.7293, 0.195)
  line L18 (0.7293, 0.195) -> (0.7293, 0.2517)
  spline S22 degree 2 poles (0.7293, 0.2517) (0.7558, 0.2767) (0.8032, 0.323) (0.8259, 0.348) knots 0 0 0 1 2 2 2
  spline S23 degree 2 poles (0.8259, 0.348) (0.8716, 0.3982) (0.9049, 0.4585) (0.9049, 0.4906) knots 0 0 0 1 2 2 2
  spline S24 degree 2 poles (0.9049, 0.4906) (0.9049, 0.5075) (0.8946, 0.5328) (0.8852, 0.5409) knots 0 0 0 1 2 2 2
  spline S25 degree 2 poles (0.8852, 0.5409) (0.8758, 0.549) (0.8511, 0.5571) (0.8362, 0.5571) knots 0 0 0 1 2 2 2
  spline S26 degree 2 poles (0.8362, 0.5571) (0.822, 0.5571) (0.7928, 0.5499) (0.7795, 0.5444) knots 0 0 0 1 2 2 2
  spline S27 degree 2 poles (0.7795, 0.5444) (0.7682, 0.5399) (0.7471, 0.5269) (0.7406, 0.5224) knots 0 0 0 1 2 2 2
  line L19 (0.7406, 0.5224) -> (0.7377, 0.5224)
  line L20 (0.7377, 0.5224) -> (0.7377, 0.5794)
  spline S28 degree 2 poles (0.7377, 0.5794) (0.7542, 0.5875) (0.8135, 0.6034) (0.8401, 0.6034) knots 0 0 0 1 2 2 2
  spline S29 degree 2 poles (0.8401, 0.6034) (0.8962, 0.6034) (0.9594, 0.5441) (0.9594, 0.4935) knots 0 0 0 1 2 2 2
  spline S30 degree 2 poles (0.9594, 0.4935) (0.9594, 0.4699) (0.9484, 0.4303) (0.9387, 0.4135) knots 0 0 0 1 2 2 2
  spline S31 degree 2 poles (0.9387, 0.4135) (0.9289, 0.396) (0.9007, 0.3616) (0.8852, 0.3451) knots 0 0 0 1 2 2 2
  spline S32 degree 2 poles (0.8852, 0.3451) (0.8599, 0.3175) (0.798, 0.2585) (0.7795, 0.2414) knots 0 0 0 1 2 2 2
  line L21 (0.7795, 0.2414) -> (0.9759, 0.2414)
  line L22 (0.9759, 0.2414) -> (0.9759, 0.195)
  point P0 (0.55, 0.395)
extrude "Extrusion3" add sketch "Sketch2" along normal blind 0.02 contours L5 L6 S0 S1 S2 S3 S4 S5 L7 L8 S6 S7 S8 S9 S10 L9 L10 | L11 L12 S11 S12 S13 S14 S15 S16 L13 L14 S17 S18 S19 S20 S21 L15 L16 | L17 L18 S22 S23 S24 S25 S26 S27 L19 L20 S28 S29 S30 S31 S32 L21 L22
fillet "Fillet1" radius 0.02 4 edges at (-0.8, 0, 0.225) (-0.8, 0, -0.225) (0.8, 0, 0.225) (0.8, 0, -0.225)
equation "\"d2\" = d1"
properties part number "21-1001" material "Copper"
